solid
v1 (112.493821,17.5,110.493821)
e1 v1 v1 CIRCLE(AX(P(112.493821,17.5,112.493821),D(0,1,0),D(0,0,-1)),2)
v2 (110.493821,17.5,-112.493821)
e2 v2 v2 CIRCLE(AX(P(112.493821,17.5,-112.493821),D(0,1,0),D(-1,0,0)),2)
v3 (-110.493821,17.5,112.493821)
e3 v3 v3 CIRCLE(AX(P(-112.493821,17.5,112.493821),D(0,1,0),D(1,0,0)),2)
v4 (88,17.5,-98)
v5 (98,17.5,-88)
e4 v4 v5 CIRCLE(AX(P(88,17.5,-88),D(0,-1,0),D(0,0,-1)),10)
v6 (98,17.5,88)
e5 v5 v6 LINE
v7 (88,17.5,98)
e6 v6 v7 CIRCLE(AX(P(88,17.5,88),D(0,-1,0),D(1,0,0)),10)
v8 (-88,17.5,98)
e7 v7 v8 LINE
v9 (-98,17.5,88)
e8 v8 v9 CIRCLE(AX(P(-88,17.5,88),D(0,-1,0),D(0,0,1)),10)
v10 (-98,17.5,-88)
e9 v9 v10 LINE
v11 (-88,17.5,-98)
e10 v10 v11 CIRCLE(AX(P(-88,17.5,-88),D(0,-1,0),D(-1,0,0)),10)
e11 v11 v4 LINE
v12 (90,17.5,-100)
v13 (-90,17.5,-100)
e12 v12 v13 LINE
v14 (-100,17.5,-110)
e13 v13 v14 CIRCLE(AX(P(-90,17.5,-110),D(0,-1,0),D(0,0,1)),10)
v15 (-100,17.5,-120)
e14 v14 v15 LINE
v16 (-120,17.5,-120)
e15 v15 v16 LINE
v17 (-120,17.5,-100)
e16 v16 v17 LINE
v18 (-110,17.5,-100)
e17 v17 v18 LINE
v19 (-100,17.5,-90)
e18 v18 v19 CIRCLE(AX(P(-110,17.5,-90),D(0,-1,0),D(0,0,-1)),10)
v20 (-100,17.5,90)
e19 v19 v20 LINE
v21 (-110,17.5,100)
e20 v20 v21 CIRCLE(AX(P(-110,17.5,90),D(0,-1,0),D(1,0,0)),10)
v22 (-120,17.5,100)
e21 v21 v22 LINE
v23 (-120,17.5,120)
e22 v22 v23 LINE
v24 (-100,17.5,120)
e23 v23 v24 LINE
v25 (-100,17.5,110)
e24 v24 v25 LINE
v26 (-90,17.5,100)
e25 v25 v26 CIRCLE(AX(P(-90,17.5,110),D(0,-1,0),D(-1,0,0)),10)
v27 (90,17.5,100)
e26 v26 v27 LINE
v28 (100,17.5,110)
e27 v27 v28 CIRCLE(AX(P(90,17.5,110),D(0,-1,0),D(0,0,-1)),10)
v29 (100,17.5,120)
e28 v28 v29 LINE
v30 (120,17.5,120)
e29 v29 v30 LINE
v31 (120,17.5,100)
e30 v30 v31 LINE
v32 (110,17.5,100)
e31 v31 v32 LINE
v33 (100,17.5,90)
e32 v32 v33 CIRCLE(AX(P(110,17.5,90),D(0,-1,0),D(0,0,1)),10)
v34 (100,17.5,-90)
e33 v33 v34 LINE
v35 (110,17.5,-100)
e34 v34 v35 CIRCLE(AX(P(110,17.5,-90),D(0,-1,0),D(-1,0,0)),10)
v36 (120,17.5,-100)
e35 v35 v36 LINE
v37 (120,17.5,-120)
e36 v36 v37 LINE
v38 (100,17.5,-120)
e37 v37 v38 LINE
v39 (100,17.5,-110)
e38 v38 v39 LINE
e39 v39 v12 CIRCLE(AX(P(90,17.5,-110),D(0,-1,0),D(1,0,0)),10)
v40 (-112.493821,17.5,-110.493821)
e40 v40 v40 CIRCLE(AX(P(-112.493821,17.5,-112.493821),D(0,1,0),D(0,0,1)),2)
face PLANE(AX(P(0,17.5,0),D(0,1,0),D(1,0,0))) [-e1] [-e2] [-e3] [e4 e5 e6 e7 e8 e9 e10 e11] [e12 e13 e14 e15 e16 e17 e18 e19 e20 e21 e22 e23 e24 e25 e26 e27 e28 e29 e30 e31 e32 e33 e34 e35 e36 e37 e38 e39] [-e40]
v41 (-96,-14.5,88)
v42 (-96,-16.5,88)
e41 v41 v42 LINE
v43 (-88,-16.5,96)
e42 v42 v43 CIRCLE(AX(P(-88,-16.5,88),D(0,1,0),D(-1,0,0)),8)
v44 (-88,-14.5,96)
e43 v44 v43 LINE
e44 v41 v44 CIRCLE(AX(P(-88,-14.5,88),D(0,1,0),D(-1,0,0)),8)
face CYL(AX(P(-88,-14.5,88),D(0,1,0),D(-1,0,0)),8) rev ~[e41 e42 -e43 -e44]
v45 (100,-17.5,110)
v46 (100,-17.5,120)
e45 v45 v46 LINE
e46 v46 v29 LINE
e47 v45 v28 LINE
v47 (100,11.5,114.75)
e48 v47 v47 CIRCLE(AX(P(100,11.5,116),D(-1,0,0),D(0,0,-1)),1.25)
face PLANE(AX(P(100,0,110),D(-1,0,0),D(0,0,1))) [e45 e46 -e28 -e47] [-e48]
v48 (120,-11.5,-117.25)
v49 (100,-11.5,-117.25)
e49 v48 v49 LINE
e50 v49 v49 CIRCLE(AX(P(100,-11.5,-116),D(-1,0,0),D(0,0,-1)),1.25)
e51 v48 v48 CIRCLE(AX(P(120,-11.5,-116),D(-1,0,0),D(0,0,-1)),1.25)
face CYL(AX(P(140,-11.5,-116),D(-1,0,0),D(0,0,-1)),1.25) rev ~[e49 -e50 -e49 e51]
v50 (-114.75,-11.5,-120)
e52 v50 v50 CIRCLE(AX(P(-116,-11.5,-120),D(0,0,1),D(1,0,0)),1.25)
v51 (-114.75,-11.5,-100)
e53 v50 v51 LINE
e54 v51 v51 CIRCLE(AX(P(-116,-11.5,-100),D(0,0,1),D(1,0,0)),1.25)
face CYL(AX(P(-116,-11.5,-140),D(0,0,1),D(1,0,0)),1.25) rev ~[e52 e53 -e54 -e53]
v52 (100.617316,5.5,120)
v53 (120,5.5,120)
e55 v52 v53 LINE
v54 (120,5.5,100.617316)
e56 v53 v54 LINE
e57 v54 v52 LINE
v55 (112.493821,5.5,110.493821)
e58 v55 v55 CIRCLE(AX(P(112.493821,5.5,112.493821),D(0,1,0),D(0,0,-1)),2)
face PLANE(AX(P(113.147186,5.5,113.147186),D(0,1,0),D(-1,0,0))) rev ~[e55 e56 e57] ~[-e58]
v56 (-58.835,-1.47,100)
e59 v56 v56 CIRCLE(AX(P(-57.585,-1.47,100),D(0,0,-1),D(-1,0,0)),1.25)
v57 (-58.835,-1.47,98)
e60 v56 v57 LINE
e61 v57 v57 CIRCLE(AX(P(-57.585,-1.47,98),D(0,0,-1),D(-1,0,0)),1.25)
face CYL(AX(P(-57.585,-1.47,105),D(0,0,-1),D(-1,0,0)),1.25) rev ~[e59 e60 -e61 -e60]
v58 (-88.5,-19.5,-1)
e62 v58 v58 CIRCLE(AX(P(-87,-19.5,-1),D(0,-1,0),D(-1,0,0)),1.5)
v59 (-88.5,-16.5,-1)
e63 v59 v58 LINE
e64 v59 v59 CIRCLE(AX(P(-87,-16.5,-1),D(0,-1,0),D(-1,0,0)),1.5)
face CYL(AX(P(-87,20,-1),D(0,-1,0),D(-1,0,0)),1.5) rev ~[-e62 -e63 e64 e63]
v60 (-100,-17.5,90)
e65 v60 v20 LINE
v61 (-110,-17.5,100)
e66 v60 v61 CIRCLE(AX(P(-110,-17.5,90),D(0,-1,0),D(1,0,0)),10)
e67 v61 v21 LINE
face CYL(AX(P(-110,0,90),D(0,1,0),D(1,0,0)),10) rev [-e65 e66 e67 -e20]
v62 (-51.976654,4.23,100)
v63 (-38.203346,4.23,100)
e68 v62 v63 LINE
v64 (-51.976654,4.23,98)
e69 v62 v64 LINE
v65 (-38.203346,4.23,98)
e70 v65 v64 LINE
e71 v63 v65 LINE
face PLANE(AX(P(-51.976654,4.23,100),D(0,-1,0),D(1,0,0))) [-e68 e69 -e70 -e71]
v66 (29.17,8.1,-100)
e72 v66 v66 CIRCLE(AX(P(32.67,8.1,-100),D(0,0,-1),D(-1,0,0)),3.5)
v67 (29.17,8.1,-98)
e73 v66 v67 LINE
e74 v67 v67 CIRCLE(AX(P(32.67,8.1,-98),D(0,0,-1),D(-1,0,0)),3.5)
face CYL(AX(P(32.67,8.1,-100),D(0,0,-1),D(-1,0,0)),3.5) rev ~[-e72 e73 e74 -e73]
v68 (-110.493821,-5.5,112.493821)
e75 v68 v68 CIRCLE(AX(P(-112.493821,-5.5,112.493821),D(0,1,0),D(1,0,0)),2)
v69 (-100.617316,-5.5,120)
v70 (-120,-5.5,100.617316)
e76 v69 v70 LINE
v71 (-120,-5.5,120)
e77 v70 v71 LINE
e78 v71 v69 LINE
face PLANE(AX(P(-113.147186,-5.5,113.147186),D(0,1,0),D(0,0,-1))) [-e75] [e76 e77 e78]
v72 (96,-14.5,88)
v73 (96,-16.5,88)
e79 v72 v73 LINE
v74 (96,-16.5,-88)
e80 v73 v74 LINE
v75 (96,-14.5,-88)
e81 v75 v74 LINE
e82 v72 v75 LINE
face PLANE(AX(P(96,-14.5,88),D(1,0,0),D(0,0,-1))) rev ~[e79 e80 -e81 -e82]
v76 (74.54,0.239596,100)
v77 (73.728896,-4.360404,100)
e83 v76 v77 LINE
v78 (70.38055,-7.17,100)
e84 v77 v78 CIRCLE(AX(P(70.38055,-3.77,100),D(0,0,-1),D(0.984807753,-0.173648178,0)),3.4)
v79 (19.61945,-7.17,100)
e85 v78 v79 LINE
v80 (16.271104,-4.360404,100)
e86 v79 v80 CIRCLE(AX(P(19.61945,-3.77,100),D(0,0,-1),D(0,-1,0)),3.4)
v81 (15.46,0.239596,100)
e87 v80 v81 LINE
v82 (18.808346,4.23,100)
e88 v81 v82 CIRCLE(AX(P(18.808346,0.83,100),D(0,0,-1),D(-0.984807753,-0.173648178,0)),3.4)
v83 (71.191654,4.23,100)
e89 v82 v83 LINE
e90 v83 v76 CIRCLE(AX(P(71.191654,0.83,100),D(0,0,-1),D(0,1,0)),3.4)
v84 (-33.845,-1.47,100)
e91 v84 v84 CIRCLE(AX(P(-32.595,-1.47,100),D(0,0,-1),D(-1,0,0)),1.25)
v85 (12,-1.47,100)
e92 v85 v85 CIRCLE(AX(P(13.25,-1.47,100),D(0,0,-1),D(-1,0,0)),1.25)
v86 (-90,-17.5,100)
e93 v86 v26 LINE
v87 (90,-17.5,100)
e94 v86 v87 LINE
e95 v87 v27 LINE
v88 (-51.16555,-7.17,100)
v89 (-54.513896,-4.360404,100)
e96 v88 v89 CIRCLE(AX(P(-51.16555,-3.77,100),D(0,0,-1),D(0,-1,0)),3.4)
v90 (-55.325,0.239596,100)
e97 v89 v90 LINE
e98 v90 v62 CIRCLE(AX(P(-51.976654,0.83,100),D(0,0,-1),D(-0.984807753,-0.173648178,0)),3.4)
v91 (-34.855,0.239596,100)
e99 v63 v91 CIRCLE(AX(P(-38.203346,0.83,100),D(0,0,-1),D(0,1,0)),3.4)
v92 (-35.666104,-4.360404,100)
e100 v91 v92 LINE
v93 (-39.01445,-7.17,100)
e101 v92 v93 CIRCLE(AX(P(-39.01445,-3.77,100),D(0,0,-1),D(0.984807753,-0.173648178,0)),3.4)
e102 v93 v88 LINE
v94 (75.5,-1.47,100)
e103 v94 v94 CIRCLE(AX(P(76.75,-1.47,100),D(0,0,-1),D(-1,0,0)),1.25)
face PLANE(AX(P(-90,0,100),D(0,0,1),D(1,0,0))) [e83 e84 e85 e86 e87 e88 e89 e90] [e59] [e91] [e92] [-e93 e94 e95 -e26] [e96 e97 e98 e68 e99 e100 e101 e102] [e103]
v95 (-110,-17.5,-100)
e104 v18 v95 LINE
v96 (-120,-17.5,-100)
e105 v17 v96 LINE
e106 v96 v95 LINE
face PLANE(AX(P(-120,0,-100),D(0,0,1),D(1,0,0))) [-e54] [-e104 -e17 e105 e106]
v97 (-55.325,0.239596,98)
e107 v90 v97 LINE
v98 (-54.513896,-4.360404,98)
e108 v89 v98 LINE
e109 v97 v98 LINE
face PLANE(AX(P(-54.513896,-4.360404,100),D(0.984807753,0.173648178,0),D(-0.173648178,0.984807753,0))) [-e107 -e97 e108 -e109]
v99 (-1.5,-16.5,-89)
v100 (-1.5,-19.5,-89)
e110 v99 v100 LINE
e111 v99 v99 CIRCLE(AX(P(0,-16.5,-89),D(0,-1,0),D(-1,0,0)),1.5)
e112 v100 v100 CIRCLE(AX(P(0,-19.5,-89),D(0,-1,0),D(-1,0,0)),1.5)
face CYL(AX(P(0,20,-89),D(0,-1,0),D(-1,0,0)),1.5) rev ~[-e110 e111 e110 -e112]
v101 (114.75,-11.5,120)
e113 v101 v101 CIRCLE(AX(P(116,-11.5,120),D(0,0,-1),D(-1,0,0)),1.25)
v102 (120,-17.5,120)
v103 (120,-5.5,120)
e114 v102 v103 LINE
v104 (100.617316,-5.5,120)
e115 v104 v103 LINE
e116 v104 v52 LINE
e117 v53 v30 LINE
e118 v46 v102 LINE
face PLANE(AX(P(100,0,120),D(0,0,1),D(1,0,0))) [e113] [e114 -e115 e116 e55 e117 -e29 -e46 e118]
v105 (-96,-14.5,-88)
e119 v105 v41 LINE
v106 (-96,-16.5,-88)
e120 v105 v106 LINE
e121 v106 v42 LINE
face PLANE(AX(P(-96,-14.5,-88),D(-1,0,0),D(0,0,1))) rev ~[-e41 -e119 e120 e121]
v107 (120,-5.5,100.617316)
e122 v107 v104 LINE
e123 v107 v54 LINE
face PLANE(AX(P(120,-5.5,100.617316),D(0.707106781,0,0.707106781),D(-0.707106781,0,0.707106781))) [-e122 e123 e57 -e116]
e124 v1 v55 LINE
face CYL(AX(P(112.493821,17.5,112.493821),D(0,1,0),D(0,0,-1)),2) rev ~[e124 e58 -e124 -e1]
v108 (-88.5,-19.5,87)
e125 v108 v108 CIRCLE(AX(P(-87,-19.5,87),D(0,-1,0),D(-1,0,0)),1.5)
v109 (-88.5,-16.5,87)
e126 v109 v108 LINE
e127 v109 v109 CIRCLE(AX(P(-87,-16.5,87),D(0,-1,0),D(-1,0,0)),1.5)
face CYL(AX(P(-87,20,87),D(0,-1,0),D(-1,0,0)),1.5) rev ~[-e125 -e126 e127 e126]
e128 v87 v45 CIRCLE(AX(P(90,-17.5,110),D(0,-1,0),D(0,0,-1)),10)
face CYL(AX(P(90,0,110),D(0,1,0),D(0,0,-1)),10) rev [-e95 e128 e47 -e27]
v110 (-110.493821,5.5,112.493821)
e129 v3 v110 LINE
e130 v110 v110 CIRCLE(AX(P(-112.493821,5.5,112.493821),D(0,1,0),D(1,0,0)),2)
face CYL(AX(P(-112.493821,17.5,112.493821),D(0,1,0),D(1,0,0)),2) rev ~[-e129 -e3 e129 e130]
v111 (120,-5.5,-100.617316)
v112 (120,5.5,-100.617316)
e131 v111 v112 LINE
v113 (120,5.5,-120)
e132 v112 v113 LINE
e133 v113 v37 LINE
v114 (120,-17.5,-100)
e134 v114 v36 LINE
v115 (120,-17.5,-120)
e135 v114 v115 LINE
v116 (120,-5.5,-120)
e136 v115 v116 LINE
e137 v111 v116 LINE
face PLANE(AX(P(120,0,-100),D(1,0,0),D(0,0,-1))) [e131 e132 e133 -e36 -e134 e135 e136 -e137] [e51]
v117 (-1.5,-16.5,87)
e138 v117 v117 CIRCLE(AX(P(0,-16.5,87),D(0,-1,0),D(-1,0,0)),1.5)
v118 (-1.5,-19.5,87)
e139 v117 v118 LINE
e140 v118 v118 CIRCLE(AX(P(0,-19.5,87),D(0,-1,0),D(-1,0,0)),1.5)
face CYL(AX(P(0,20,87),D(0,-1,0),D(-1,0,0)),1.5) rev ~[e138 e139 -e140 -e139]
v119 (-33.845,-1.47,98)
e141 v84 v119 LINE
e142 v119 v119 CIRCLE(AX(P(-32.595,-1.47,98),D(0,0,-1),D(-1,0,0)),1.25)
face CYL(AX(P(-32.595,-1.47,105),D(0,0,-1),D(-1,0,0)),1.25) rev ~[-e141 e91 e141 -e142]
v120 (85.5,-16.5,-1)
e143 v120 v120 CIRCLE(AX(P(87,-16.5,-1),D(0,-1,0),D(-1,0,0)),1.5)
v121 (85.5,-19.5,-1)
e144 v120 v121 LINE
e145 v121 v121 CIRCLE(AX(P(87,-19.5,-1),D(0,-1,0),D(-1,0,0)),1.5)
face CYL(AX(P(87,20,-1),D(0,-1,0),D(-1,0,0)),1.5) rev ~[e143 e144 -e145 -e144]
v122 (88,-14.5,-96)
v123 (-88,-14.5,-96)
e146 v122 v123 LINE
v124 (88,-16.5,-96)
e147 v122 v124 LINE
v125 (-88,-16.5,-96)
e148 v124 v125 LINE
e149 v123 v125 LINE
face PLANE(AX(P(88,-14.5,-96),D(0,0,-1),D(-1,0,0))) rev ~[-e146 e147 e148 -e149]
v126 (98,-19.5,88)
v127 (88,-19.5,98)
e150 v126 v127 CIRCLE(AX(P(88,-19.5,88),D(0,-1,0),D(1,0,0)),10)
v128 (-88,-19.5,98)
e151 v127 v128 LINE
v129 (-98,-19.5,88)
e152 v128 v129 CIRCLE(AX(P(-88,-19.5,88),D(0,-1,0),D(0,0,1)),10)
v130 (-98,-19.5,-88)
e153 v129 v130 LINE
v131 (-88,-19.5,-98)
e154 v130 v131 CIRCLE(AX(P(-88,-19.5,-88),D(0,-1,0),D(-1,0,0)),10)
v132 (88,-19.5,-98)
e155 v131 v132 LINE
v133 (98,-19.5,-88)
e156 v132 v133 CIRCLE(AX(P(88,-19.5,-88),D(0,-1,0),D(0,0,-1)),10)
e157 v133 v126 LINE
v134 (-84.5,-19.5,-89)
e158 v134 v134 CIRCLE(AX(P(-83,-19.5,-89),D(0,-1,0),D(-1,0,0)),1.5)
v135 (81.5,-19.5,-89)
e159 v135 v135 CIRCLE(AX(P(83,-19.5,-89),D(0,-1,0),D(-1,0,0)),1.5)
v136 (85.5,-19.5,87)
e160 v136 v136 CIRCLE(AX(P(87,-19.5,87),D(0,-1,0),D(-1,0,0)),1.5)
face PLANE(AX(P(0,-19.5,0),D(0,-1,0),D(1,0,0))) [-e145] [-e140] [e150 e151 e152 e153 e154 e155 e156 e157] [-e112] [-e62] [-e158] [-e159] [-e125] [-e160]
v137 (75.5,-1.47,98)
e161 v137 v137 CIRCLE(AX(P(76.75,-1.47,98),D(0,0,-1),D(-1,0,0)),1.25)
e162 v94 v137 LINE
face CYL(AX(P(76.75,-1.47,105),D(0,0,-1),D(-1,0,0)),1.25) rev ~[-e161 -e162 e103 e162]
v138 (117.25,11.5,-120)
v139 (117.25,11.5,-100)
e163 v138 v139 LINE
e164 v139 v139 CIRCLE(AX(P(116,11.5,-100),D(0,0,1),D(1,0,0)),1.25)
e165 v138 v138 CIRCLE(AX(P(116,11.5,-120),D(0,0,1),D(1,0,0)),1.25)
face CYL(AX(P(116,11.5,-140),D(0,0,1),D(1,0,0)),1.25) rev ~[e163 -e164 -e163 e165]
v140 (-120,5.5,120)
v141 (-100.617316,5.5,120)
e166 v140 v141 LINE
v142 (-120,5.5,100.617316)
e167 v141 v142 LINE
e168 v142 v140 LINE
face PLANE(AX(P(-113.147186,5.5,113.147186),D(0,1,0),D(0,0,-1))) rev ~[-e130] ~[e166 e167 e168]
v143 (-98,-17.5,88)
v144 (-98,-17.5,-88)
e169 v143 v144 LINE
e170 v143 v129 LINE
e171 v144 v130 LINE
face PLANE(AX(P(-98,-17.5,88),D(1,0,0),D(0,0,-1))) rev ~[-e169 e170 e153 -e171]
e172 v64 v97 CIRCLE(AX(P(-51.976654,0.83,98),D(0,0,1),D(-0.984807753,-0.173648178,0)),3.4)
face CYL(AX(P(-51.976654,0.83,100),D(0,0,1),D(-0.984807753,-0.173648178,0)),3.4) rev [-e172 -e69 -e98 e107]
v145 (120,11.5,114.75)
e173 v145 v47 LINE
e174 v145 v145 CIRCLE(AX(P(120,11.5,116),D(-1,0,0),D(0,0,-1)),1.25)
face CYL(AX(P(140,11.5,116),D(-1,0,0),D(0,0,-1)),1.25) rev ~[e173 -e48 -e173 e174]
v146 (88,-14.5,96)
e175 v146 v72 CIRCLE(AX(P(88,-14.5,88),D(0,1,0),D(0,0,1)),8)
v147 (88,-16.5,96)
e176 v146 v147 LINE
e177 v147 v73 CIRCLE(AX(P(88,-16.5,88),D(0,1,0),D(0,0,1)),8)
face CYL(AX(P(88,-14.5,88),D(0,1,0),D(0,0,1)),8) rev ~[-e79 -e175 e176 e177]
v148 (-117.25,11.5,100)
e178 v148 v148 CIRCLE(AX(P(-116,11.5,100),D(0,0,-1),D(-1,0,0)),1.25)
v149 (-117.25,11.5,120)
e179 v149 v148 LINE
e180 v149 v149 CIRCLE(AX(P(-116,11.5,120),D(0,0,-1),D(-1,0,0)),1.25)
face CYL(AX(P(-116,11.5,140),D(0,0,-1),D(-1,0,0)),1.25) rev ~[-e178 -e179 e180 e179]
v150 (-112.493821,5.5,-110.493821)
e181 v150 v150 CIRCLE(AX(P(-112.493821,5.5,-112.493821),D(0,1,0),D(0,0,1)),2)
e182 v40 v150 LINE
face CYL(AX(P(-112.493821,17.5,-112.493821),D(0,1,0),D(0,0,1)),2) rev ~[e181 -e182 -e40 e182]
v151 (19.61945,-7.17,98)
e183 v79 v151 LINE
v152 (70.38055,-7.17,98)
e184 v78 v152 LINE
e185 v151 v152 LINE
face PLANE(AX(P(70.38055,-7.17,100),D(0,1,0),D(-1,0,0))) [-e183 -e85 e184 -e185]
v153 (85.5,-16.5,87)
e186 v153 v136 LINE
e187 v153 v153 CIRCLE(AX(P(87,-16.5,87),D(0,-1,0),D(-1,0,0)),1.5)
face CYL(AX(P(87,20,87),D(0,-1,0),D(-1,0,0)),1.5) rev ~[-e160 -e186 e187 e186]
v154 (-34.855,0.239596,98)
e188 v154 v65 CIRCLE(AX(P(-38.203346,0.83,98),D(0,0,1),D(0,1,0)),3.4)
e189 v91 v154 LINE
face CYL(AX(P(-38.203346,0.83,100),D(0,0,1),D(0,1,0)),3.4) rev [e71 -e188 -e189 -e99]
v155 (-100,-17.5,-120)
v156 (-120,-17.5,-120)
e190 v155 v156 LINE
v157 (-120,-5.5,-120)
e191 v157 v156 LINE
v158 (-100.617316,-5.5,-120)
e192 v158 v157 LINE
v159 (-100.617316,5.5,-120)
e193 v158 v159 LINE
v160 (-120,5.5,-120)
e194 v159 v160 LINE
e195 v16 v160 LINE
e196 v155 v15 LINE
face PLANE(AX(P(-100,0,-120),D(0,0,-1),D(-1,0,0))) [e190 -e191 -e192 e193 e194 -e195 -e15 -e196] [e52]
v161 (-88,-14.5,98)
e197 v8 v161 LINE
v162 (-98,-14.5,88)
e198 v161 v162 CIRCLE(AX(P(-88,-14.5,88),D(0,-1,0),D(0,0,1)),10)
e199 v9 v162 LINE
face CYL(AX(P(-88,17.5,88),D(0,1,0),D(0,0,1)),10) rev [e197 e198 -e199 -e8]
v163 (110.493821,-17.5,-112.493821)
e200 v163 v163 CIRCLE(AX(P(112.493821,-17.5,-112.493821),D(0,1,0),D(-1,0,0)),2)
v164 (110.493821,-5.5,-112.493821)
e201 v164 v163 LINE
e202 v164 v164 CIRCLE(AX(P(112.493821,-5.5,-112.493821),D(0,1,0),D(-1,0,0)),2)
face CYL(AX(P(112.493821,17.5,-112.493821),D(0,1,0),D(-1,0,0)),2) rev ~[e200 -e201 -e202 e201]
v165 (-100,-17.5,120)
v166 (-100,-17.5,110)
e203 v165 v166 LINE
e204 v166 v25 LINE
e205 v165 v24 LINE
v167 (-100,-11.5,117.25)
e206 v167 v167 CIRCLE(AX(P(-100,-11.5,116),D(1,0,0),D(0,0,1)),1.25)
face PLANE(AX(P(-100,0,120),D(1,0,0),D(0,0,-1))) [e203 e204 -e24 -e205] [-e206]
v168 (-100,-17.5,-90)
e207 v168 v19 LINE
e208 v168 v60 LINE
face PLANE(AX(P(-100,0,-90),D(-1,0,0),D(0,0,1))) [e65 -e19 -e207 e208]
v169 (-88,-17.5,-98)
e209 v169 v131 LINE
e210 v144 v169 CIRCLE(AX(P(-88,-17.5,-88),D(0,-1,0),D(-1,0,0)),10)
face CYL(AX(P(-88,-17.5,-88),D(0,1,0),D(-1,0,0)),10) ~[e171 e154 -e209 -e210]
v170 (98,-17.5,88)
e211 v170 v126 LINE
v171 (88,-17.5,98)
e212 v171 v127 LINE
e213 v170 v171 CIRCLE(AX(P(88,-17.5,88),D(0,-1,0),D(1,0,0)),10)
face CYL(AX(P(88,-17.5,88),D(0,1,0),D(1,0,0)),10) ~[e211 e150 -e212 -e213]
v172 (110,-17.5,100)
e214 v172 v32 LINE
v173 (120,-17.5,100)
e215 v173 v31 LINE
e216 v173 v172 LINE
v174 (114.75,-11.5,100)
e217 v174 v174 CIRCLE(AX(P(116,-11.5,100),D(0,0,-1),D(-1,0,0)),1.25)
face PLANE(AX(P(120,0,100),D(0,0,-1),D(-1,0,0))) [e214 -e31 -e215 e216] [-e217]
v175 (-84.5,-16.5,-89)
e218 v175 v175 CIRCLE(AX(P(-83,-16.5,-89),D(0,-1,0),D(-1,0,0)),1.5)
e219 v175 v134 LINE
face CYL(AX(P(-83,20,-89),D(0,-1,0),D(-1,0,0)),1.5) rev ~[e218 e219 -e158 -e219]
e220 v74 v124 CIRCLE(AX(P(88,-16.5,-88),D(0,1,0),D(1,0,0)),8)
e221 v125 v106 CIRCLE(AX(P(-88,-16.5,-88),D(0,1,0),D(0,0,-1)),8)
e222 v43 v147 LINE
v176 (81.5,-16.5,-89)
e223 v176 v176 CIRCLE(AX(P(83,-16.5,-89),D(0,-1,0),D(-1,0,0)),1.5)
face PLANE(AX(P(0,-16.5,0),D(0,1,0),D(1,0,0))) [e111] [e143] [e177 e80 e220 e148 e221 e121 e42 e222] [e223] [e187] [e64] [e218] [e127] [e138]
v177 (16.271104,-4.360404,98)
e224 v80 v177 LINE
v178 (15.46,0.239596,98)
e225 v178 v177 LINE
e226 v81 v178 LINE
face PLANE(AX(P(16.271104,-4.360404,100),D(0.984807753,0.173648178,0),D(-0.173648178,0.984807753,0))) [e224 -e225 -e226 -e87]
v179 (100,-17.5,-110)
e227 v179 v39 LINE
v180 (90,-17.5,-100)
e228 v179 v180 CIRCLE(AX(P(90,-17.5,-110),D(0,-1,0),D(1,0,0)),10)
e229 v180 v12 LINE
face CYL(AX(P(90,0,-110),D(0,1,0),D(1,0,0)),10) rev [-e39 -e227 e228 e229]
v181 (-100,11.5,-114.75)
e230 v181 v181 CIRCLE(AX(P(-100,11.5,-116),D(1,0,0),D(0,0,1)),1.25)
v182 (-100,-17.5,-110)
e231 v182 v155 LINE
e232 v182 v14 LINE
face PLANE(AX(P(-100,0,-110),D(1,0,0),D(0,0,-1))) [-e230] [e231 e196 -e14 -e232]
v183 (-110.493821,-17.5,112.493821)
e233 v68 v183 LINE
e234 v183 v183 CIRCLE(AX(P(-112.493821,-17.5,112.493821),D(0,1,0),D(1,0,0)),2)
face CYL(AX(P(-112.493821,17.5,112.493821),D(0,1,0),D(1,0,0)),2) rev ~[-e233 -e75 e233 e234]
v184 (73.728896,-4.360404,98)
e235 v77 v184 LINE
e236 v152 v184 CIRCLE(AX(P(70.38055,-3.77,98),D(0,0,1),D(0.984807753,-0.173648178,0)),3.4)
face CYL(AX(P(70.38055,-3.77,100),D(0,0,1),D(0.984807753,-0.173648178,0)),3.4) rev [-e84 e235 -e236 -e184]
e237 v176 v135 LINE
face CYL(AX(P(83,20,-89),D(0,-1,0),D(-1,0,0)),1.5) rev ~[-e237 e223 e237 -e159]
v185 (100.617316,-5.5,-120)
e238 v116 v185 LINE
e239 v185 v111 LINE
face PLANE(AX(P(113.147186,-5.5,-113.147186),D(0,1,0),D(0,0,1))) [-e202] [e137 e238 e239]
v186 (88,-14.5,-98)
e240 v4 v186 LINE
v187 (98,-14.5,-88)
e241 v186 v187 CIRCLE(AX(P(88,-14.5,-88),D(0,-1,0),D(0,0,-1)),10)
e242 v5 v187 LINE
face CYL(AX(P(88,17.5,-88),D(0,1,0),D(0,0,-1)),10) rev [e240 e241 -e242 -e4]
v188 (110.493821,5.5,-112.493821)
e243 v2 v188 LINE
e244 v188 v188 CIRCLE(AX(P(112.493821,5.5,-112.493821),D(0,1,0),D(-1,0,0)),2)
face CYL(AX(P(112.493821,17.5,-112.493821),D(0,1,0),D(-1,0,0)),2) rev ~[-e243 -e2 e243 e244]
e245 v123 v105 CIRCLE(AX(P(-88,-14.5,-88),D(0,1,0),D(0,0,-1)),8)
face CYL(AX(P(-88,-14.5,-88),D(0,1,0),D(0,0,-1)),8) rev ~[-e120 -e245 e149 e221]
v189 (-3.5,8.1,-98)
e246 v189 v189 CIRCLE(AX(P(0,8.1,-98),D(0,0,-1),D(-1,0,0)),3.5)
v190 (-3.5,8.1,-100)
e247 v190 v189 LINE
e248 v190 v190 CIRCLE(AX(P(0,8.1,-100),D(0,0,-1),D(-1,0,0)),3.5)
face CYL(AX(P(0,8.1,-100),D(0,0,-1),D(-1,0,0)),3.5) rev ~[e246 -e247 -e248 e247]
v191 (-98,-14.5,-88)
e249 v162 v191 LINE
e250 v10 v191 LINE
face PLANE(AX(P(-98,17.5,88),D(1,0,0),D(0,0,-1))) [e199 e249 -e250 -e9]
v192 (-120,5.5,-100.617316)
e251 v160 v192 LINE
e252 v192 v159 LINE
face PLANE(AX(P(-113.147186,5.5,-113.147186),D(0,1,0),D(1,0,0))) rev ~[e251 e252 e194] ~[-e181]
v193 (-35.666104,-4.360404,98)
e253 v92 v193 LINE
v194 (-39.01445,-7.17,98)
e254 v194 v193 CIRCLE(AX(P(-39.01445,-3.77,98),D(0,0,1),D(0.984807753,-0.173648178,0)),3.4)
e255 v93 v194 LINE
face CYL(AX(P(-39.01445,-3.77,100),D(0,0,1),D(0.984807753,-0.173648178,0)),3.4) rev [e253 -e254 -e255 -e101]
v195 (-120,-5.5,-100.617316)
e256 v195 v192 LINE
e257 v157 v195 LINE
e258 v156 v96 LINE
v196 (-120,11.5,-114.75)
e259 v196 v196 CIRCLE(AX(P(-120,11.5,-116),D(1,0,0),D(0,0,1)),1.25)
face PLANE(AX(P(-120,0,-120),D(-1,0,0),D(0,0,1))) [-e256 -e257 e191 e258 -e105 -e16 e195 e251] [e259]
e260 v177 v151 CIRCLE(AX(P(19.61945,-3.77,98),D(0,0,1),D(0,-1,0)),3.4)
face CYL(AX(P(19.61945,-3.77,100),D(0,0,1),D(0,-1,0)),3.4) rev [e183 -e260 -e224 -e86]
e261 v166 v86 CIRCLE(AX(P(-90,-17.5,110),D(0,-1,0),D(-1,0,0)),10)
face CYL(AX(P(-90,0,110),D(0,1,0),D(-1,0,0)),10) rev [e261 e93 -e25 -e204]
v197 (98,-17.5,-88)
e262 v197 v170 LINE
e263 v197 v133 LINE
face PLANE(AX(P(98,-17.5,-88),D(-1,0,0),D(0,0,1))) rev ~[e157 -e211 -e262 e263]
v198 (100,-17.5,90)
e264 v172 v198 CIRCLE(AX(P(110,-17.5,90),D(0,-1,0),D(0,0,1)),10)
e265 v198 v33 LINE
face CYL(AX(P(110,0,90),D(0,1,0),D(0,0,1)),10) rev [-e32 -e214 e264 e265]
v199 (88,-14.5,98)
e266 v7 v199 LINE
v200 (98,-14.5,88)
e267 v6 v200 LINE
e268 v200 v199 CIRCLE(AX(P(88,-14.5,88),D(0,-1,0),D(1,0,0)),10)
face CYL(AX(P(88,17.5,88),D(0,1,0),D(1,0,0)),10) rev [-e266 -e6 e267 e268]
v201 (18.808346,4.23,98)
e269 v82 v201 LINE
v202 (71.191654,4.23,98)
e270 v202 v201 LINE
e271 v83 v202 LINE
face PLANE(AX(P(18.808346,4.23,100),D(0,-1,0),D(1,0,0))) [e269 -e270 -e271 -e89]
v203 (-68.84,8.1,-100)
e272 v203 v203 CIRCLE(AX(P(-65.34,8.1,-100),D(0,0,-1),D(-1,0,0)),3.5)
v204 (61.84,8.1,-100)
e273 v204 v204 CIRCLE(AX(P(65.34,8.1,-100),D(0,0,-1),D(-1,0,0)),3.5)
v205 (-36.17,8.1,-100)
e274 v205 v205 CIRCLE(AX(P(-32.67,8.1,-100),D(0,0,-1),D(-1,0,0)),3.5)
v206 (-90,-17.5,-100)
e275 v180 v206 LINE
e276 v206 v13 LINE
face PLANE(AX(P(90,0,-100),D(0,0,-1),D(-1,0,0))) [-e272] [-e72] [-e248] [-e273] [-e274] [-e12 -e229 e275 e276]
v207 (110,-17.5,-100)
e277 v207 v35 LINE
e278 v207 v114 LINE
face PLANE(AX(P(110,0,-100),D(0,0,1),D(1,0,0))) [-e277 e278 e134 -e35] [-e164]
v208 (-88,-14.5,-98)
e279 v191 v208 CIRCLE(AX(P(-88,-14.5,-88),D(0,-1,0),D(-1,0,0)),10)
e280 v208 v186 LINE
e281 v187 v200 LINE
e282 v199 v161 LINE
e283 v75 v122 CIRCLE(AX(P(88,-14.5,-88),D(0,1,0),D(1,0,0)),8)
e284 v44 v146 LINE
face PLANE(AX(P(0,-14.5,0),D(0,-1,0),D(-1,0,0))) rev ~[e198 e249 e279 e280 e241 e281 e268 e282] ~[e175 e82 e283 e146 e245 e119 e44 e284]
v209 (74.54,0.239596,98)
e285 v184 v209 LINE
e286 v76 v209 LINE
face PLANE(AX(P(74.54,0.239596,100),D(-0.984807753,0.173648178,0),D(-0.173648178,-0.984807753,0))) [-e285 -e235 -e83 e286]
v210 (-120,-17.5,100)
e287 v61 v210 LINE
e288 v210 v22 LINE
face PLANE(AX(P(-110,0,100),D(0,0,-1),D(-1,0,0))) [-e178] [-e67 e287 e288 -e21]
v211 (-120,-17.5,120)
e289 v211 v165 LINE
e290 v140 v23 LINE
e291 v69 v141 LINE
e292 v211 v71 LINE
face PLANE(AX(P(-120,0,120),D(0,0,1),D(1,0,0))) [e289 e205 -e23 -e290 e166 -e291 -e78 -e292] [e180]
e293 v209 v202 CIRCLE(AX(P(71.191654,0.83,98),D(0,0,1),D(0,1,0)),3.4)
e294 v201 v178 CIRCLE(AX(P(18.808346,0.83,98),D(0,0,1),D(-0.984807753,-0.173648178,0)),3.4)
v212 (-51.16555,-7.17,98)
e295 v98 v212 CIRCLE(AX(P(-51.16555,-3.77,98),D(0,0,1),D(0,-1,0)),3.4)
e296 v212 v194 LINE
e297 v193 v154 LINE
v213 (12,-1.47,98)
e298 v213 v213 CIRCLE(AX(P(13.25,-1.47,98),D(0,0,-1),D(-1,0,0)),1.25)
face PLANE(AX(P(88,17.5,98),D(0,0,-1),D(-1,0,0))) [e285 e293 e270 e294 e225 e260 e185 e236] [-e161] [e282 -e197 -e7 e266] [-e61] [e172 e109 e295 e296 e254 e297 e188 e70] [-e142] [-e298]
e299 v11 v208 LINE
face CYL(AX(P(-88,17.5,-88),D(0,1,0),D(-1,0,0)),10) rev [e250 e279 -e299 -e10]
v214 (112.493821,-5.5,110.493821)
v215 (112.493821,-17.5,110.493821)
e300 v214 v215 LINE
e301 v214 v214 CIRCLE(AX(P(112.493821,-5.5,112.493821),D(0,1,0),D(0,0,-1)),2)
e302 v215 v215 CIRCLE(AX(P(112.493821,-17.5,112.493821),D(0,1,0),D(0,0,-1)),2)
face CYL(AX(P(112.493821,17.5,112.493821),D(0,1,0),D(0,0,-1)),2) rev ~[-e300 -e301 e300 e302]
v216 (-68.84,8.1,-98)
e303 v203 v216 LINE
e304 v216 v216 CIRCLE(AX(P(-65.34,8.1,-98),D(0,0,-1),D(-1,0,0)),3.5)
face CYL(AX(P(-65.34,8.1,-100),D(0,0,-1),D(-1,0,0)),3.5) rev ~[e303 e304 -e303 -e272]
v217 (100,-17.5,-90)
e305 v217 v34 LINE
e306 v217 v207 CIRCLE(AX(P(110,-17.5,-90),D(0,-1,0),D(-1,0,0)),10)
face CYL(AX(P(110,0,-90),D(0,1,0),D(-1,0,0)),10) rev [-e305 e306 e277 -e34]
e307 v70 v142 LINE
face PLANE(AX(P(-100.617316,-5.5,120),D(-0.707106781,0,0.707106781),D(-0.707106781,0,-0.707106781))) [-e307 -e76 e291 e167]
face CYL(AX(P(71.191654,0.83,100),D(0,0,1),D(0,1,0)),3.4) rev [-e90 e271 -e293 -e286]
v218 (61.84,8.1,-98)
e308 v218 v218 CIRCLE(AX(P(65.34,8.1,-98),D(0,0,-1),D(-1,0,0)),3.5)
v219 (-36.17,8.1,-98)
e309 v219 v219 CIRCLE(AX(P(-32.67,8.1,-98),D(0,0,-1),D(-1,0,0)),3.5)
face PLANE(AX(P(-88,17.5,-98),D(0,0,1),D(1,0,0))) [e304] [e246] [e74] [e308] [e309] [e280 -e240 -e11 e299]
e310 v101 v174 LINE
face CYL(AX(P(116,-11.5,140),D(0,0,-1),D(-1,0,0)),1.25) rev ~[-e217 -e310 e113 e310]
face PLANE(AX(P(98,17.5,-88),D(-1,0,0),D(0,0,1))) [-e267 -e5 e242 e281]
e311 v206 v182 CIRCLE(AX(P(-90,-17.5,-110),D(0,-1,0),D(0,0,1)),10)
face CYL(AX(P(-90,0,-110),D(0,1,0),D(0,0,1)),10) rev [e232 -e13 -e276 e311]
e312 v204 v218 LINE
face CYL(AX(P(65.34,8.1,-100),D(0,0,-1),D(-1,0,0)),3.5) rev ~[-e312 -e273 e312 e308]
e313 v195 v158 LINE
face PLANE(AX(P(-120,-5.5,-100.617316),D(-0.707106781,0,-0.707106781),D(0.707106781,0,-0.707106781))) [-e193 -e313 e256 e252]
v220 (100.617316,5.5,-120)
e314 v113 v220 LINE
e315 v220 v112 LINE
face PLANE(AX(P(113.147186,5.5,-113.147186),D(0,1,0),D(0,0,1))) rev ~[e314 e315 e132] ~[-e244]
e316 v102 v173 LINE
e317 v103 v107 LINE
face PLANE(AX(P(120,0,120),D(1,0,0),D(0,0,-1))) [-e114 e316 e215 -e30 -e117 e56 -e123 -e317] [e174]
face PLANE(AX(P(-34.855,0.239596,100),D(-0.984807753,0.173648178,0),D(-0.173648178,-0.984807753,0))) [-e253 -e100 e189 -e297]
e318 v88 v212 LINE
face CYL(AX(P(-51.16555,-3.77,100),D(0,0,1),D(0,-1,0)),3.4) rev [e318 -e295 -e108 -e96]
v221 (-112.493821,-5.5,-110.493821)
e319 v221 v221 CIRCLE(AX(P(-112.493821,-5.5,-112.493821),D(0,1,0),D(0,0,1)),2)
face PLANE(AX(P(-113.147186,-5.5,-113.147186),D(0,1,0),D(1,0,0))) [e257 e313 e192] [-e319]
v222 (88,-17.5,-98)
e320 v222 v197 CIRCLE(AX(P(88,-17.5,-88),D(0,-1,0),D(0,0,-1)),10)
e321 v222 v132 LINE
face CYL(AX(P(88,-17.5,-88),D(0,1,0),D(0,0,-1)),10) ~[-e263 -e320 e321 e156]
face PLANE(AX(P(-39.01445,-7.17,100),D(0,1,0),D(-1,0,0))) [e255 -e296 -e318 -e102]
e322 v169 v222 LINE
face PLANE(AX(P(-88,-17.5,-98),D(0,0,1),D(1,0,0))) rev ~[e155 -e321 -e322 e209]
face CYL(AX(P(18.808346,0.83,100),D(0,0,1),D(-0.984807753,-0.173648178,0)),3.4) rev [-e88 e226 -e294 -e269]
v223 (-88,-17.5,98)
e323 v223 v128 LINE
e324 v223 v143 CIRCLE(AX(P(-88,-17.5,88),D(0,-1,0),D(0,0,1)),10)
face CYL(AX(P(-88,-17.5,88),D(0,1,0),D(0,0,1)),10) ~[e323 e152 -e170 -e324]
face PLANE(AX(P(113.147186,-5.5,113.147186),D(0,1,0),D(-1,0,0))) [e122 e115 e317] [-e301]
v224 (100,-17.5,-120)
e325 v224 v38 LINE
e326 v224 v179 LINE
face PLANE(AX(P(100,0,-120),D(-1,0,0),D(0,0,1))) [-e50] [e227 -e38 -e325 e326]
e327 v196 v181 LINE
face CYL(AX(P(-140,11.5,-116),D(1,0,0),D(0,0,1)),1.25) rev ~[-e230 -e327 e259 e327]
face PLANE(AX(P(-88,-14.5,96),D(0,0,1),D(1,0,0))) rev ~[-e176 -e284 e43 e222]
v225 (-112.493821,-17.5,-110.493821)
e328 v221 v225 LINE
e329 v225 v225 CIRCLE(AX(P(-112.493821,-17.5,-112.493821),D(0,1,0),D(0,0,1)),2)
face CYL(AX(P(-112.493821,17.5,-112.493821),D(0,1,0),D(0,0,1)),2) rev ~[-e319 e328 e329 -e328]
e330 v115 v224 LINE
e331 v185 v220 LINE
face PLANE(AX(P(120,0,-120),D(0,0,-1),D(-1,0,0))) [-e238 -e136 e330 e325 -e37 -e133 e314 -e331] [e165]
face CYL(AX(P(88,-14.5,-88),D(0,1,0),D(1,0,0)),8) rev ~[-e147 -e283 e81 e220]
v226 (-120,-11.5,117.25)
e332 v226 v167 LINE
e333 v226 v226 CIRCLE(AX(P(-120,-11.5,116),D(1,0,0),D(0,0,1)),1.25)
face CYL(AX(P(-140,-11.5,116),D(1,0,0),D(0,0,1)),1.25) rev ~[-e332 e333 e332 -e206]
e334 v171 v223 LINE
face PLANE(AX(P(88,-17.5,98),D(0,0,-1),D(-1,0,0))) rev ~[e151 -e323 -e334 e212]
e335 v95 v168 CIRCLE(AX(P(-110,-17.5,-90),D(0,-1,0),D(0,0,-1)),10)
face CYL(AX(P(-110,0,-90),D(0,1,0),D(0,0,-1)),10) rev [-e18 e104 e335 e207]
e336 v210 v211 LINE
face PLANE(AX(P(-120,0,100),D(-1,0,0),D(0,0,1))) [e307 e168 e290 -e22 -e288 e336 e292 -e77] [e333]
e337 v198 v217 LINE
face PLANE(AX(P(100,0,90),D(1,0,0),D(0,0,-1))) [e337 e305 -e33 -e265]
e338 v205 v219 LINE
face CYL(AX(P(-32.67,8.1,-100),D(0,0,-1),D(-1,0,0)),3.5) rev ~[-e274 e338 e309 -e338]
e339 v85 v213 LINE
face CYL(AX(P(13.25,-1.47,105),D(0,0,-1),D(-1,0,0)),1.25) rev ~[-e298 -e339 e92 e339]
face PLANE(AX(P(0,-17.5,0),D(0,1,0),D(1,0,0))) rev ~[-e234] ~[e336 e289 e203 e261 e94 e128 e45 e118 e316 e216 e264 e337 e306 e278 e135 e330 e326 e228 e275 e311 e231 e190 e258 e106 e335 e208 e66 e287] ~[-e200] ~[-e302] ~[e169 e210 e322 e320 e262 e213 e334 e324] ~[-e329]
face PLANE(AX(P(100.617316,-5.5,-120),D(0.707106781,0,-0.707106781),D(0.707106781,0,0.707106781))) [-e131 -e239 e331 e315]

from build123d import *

# Parameters (mm, degrees)
BOSS_EXTRUDE1_DEPTH                   = 17.5
CUT_EXTRUDE1_DEPTH                    = 32
CUT_EXTRUDE2_DEPTH                    = 2
BOSS_EXTRUDE2_DEPTH                   = 2
CUT_EXTRUDE3_DEPTH                    = 11
CIRPATTERN1_COUNT                     = 4
SKETCH6_R                             = 2
CUT_EXTRUDE4_DEPTH                    = 174.692256592
CIRPATTERN2_COUNT                     = 4
TAP_DRILL_FOR_M3_TAP1_D               = 2.5
TAP_DRILL_FOR_M3_TAP1_DEPTH           = 20
TAP_DRILL_FOR_M3_TAP1_ON_FACE_2_D     = 2.5
TAP_DRILL_FOR_M3_TAP1_ON_FACE_2_DEPTH = 20
TAP_DRILL_FOR_M3_TAP1_ON_FACE_3_D     = 2.5
TAP_DRILL_FOR_M3_TAP1_ON_FACE_3_DEPTH = 20
TAP_DRILL_FOR_M3_TAP1_ON_FACE_4_D     = 2.5
TAP_DRILL_FOR_M3_TAP1_ON_FACE_4_DEPTH = 20
F_3_0_3_DIAMETER_HOLE1_D              = 3
F_3_0_3_DIAMETER_HOLE1_DEPTH          = 20
F_3_0_3_DIAMETER_HOLE1_TIP            = 0.901290929
CUT_EXTRUDE5_REACH                    = 253.357
SKETCH16_R                            = 3.5
CUT_EXTRUDE6_DEPTH                    = 10
M3X0_5_TAPPED_HOLE1_D                 = 2.5
M3X0_5_TAPPED_HOLE1_DEPTH             = 5
M3X0_5_TAPPED_HOLE1_TIP               = 0.751075774


with BuildPart() as part:
    # Sketch1 → Boss-Extrude1 (new, symmetric)
    with BuildSketch(Plane(origin=(0, 0, 0), x_dir=(1, 0, 0), z_dir=(0, 1, 0))):
        with BuildLine():
            ThreePointArc((-110, 100), (-102.928932188, 97.071067812), (-100, 90))
            Line((-100, 90), (-100, -90))
            ThreePointArc((-100, -90), (-102.928932188, -97.071067812), (-110, -100))
            Line((-110, -100), (-120, -100))
            Line((-120, -100), (-120, -120))
            Line((-120, -120), (-100, -120))
            Line((-100, -120), (-100, -110))
            ThreePointArc((-100, -110), (-97.071067812, -102.928932188), (-90, -100))
            Line((-90, -100), (90, -100))
            ThreePointArc((90, -100), (97.071067812, -102.928932188), (100, -110))
            Line((100, -110), (100, -120))
            Line((100, -120), (120, -120))
            Line((120, -120), (120, -100))
            Line((120, -100), (110, -100))
            ThreePointArc((110, -100), (102.928932188, -97.071067812), (100, -90))
            Line((100, -90), (100, 90))
            ThreePointArc((100, 90), (102.928932188, 97.071067812), (110, 100))
            Line((110, 100), (120, 100))
            Line((120, 100), (120, 120))
            Line((120, 120), (100, 120))
            Line((100, 120), (100, 110))
            ThreePointArc((100, 110), (97.071067812, 102.928932188), (90, 100))
            Line((90, 100), (-90, 100))
            ThreePointArc((-90, 100), (-97.071067812, 102.928932188), (-100, 110))
            Line((-100, 110), (-100, 120))
            Line((-100, 120), (-120, 120))
            Line((-120, 120), (-120, 100))
            Line((-120, 100), (-110, 100))
        make_face()
    extrude(amount=BOSS_EXTRUDE1_DEPTH, both=True)

    # Sketch2 → Cut-Extrude1 (cut)
    with BuildSketch(Plane(origin=(0, 17.5, 0), x_dir=(1, 0, 0), z_dir=(0, 1, 0))):
        with BuildLine():
            Line((-88, 98), (88, 98))
            ThreePointArc((88, 98), (95.071067812, 95.071067812), (98, 88))
            Line((98, 88), (98, -88))
            ThreePointArc((98, -88), (95.071067812, -95.071067812), (88, -98))
            Line((88, -98), (-88, -98))
            ThreePointArc((-88, -98), (-95.071067812, -95.071067812), (-98, -88))
            Line((-98, -88), (-98, 88))
            ThreePointArc((-98, 88), (-95.071067812, 95.071067812), (-88, 98))
        make_face()
    extrude(amount=-CUT_EXTRUDE1_DEPTH, mode=Mode.SUBTRACT)

    # Sketch3 → Cut-Extrude2 (cut)
    with BuildSketch(Plane(origin=(0, -14.5, 0), x_dir=(1, 0, 0), z_dir=(0, 1, 0))):
        with BuildLine():
            Line((-88, -96), (88, -96))
            ThreePointArc((88, -96), (93.656854249, -93.656854249), (96, -88))
            Line((96, -88), (96, 88))
            ThreePointArc((96, 88), (93.656854249, 93.656854249), (88, 96))
            Line((88, 96), (-88, 96))
            ThreePointArc((-88, 96), (-93.656854249, 93.656854249), (-96, 88))
            Line((-96, 88), (-96, -88))
            ThreePointArc((-96, -88), (-93.656854249, -93.656854249), (-88, -96))
        make_face()
    extrude(amount=-CUT_EXTRUDE2_DEPTH, mode=Mode.SUBTRACT)

    # Sketch4 → Boss-Extrude2 (add)
    with BuildSketch(Plane.XZ.offset(17.5)):
        with BuildLine():
            Line((-88, -98), (88, -98))
            ThreePointArc((88, -98), (95.071067812, -95.071067812), (98, -88))
            Line((98, -88), (98, 88))
            ThreePointArc((98, 88), (95.071067812, 95.071067812), (88, 98))
            Line((88, 98), (-88, 98))
            ThreePointArc((-88, 98), (-95.071067812, 95.071067812), (-98, 88))
            Line((-98, 88), (-98, -88))
            ThreePointArc((-98, -88), (-95.071067812, -95.071067812), (-88, -98))
        make_face()
    extrude(amount=BOSS_EXTRUDE2_DEPTH)

    # Sketch5 → Cut-Extrude3 (cut)
    with BuildSketch(Plane(origin=(0, -5.5, 0), x_dir=(1, 0, 0), z_dir=(0, 1, 0))):
        Polygon((-120, 100.61731573), (-100.61731573, 120), (-120, 120), align=None)
    cut_extrude3 = extrude(amount=CUT_EXTRUDE3_DEPTH, mode=Mode.SUBTRACT)

    # CirPattern1: Cut-Extrude3 ×4 about axis
    cirpattern1_axis = Axis((0, 0, 0), (0, 1, 0))
    for i in range(1, CIRPATTERN1_COUNT):
        add(cut_extrude3.rotate(cirpattern1_axis, i * 360 / CIRPATTERN1_COUNT), mode=Mode.SUBTRACT)

    # Sketch6 → Cut-Extrude4 (cut, through all)
    with BuildSketch(Plane(origin=(0, 17.5, 0), x_dir=(1, 0, 0), z_dir=(0, 1, 0))):
        with Locations(Location((-112.493820949, 112.493820949, 0), (0, 0, 270))):
            Circle(SKETCH6_R)
    cut_extrude4 = extrude(amount=-CUT_EXTRUDE4_DEPTH, mode=Mode.SUBTRACT)

    # CirPattern2: Cut-Extrude4 ×4 about axis
    cirpattern2_axis = Axis((0, 0, 0), (0, 1, 0))
    for i in range(1, CIRPATTERN2_COUNT):
        add(cut_extrude4.rotate(cirpattern2_axis, i * 360 / CIRPATTERN2_COUNT), mode=Mode.SUBTRACT)

    # Tap Drill for M3 Tap1
    with Locations(Plane(origin=(116, 11.5, -120), x_dir=(-1, 0, 0), z_dir=(0, 0, -1))):
        with Locations((0, 0), (232, -23)):
            Hole(TAP_DRILL_FOR_M3_TAP1_D / 2, depth=TAP_DRILL_FOR_M3_TAP1_DEPTH)

    # Tap Drill for M3 Tap1 on face 2
    with Locations(Plane(origin=(-120, 11.5, -116), x_dir=(0, 0, -1), z_dir=(-1, 0, 0))):
        with Locations((0, 0), (-232, 23)):
            Hole(TAP_DRILL_FOR_M3_TAP1_ON_FACE_2_D / 2, depth=TAP_DRILL_FOR_M3_TAP1_ON_FACE_2_DEPTH)

    # Tap Drill for M3 Tap1 on face 3
    with Locations(Plane(origin=(-116, 11.5, 120), x_dir=(1, 0, 0), z_dir=(0, 0, 1))):
        with Locations((0, 0), (232, -23)):
            Hole(TAP_DRILL_FOR_M3_TAP1_ON_FACE_3_D / 2, depth=TAP_DRILL_FOR_M3_TAP1_ON_FACE_3_DEPTH)

    # Tap Drill for M3 Tap1 on face 4
    with Locations(Plane(origin=(120, 11.5, 116), x_dir=(0, 0, 1), z_dir=(1, 0, 0))):
        with Locations((0, 0), (-232, 23)):
            Hole(TAP_DRILL_FOR_M3_TAP1_ON_FACE_4_D / 2, depth=TAP_DRILL_FOR_M3_TAP1_ON_FACE_4_DEPTH)

    # Ø3.0 (3) Diameter Hole1
    with Locations(Plane(origin=(0, 0, 0), x_dir=(1, 0, 0), z_dir=(0, 1, 0))):
        with Locations((-83, 89), (0, 89), (83, 89), (87, 1), (-87, 1), (-87, -87), (0, -87), (87, -87)):
            Hole(F_3_0_3_DIAMETER_HOLE1_D / 2, depth=F_3_0_3_DIAMETER_HOLE1_DEPTH)
            with Locations((0, 0, -(F_3_0_3_DIAMETER_HOLE1_DEPTH + F_3_0_3_DIAMETER_HOLE1_TIP / 2))):  # 118° drill point
                Cone(0, F_3_0_3_DIAMETER_HOLE1_D / 2, F_3_0_3_DIAMETER_HOLE1_TIP, mode=Mode.SUBTRACT)

    # Sketch16 → Cut-Extrude5 (cut, up to next)
    with BuildSketch(Plane(origin=(0, 0, -100), x_dir=(-1, 0, 0), z_dir=(0, 0, -1)), mode=Mode.PRIVATE) as cut_extrude5_sk1:
        with Locations((0, 8.1)):
            Circle(SKETCH16_R)
    cut_extrude5_tool1 = extrude(cut_extrude5_sk1.sketch, amount=-CUT_EXTRUDE5_REACH, mode=Mode.PRIVATE) & part.part
    # Sketch16 → Cut-Extrude5 (cut, up to next)
    with BuildSketch(Plane(origin=(0, 0, -100), x_dir=(-1, 0, 0), z_dir=(0, 0, -1)), mode=Mode.PRIVATE) as cut_extrude5_sk2:
        with Locations((32.67, 8.1)):
            Circle(SKETCH16_R)
    cut_extrude5_tool2 = extrude(cut_extrude5_sk2.sketch, amount=-CUT_EXTRUDE5_REACH, mode=Mode.PRIVATE) & part.part
    # Sketch16 → Cut-Extrude5 (cut, up to next)
    with BuildSketch(Plane(origin=(0, 0, -100), x_dir=(-1, 0, 0), z_dir=(0, 0, -1)), mode=Mode.PRIVATE) as cut_extrude5_sk3:
        with Locations((65.34, 8.1)):
            Circle(SKETCH16_R)
    cut_extrude5_tool3 = extrude(cut_extrude5_sk3.sketch, amount=-CUT_EXTRUDE5_REACH, mode=Mode.PRIVATE) & part.part
    # Sketch16 → Cut-Extrude5 (cut, up to next)
    with BuildSketch(Plane(origin=(0, 0, -100), x_dir=(-1, 0, 0), z_dir=(0, 0, -1)), mode=Mode.PRIVATE) as cut_extrude5_sk4:
        with Locations((-32.67, 8.1)):
            Circle(SKETCH16_R)
    cut_extrude5_tool4 = extrude(cut_extrude5_sk4.sketch, amount=-CUT_EXTRUDE5_REACH, mode=Mode.PRIVATE) & part.part
    # Sketch16 → Cut-Extrude5 (cut, up to next)
    with BuildSketch(Plane(origin=(0, 0, -100), x_dir=(-1, 0, 0), z_dir=(0, 0, -1)), mode=Mode.PRIVATE) as cut_extrude5_sk5:
        with Locations((-65.34, 8.1)):
            Circle(SKETCH16_R)
    cut_extrude5_tool5 = extrude(cut_extrude5_sk5.sketch, amount=-CUT_EXTRUDE5_REACH, mode=Mode.PRIVATE) & part.part
    add(cut_extrude5_tool1.solids().sort_by_distance((0, 8.1, -100))[0], mode=Mode.SUBTRACT)
    add(cut_extrude5_tool2.solids().sort_by_distance((-32.67, 8.1, -100))[0], mode=Mode.SUBTRACT)
    add(cut_extrude5_tool3.solids().sort_by_distance((-65.34, 8.1, -100))[0], mode=Mode.SUBTRACT)
    add(cut_extrude5_tool4.solids().sort_by_distance((32.67, 8.1, -100))[0], mode=Mode.SUBTRACT)
    add(cut_extrude5_tool5.solids().sort_by_distance((65.34, 8.1, -100))[0], mode=Mode.SUBTRACT)

    # Sketch17 → Cut-Extrude6 (cut)
    with BuildSketch(Plane.XY.offset(100)):
        with BuildLine():
            Line((-51.97665364, 4.23), (-38.20334636, 4.23))
            ThreePointArc((-38.20334636, 4.23), (-35.598795254, 3.015477873), (-34.855, 0.239596196))
            Line((-34.855, 0.239596196), (-35.666104111, -4.360403804))
            ThreePointArc((-35.666104111, -4.360403804), (-36.828972599, -6.374551107), (-39.014450472, -7.17))
            Line((-39.014450472, -7.17), (-51.165549528, -7.17))
            ThreePointArc((-51.165549528, -7.17), (-53.351027401, -6.374551107), (-54.513895889, -4.360403804))
            Line((-54.513895889, -4.360403804), (-55.325, 0.239596196))
            ThreePointArc((-55.325, 0.239596196), (-54.581204746, 3.015477873), (-51.97665364, 4.23))
        make_face()
        with BuildLine():
            Line((16.271104111, -4.360403804), (15.46, 0.239596196))
            ThreePointArc((15.46, 0.239596196), (16.203795254, 3.015477873), (18.80834636, 4.23))
            Line((18.80834636, 4.23), (71.19165364, 4.23))
            ThreePointArc((71.19165364, 4.23), (73.796204746, 3.015477873), (74.54, 0.239596196))
            Line((74.54, 0.239596196), (73.728895889, -4.360403804))
            ThreePointArc((73.728895889, -4.360403804), (72.566027401, -6.374551107), (70.380549528, -7.17))
            Line((70.380549528, -7.17), (19.619450472, -7.17))
            ThreePointArc((19.619450472, -7.17), (17.433972599, -6.374551107), (16.271104111, -4.360403804))
        make_face()
    extrude(amount=-CUT_EXTRUDE6_DEPTH, mode=Mode.SUBTRACT)

    # M3x0.5 Tapped Hole1
    with Locations(Plane.XY.offset(100)):
        with Locations((-57.585, -1.47), (-32.595, -1.47), (13.25, -1.47), (76.75, -1.47)):
            Hole(M3X0_5_TAPPED_HOLE1_D / 2, depth=M3X0_5_TAPPED_HOLE1_DEPTH)
            with Locations((0, 0, -(M3X0_5_TAPPED_HOLE1_DEPTH + M3X0_5_TAPPED_HOLE1_TIP / 2))):  # 118° drill point
                Cone(0, M3X0_5_TAPPED_HOLE1_D / 2, M3X0_5_TAPPED_HOLE1_TIP, mode=Mode.SUBTRACT)


solid = part.part
